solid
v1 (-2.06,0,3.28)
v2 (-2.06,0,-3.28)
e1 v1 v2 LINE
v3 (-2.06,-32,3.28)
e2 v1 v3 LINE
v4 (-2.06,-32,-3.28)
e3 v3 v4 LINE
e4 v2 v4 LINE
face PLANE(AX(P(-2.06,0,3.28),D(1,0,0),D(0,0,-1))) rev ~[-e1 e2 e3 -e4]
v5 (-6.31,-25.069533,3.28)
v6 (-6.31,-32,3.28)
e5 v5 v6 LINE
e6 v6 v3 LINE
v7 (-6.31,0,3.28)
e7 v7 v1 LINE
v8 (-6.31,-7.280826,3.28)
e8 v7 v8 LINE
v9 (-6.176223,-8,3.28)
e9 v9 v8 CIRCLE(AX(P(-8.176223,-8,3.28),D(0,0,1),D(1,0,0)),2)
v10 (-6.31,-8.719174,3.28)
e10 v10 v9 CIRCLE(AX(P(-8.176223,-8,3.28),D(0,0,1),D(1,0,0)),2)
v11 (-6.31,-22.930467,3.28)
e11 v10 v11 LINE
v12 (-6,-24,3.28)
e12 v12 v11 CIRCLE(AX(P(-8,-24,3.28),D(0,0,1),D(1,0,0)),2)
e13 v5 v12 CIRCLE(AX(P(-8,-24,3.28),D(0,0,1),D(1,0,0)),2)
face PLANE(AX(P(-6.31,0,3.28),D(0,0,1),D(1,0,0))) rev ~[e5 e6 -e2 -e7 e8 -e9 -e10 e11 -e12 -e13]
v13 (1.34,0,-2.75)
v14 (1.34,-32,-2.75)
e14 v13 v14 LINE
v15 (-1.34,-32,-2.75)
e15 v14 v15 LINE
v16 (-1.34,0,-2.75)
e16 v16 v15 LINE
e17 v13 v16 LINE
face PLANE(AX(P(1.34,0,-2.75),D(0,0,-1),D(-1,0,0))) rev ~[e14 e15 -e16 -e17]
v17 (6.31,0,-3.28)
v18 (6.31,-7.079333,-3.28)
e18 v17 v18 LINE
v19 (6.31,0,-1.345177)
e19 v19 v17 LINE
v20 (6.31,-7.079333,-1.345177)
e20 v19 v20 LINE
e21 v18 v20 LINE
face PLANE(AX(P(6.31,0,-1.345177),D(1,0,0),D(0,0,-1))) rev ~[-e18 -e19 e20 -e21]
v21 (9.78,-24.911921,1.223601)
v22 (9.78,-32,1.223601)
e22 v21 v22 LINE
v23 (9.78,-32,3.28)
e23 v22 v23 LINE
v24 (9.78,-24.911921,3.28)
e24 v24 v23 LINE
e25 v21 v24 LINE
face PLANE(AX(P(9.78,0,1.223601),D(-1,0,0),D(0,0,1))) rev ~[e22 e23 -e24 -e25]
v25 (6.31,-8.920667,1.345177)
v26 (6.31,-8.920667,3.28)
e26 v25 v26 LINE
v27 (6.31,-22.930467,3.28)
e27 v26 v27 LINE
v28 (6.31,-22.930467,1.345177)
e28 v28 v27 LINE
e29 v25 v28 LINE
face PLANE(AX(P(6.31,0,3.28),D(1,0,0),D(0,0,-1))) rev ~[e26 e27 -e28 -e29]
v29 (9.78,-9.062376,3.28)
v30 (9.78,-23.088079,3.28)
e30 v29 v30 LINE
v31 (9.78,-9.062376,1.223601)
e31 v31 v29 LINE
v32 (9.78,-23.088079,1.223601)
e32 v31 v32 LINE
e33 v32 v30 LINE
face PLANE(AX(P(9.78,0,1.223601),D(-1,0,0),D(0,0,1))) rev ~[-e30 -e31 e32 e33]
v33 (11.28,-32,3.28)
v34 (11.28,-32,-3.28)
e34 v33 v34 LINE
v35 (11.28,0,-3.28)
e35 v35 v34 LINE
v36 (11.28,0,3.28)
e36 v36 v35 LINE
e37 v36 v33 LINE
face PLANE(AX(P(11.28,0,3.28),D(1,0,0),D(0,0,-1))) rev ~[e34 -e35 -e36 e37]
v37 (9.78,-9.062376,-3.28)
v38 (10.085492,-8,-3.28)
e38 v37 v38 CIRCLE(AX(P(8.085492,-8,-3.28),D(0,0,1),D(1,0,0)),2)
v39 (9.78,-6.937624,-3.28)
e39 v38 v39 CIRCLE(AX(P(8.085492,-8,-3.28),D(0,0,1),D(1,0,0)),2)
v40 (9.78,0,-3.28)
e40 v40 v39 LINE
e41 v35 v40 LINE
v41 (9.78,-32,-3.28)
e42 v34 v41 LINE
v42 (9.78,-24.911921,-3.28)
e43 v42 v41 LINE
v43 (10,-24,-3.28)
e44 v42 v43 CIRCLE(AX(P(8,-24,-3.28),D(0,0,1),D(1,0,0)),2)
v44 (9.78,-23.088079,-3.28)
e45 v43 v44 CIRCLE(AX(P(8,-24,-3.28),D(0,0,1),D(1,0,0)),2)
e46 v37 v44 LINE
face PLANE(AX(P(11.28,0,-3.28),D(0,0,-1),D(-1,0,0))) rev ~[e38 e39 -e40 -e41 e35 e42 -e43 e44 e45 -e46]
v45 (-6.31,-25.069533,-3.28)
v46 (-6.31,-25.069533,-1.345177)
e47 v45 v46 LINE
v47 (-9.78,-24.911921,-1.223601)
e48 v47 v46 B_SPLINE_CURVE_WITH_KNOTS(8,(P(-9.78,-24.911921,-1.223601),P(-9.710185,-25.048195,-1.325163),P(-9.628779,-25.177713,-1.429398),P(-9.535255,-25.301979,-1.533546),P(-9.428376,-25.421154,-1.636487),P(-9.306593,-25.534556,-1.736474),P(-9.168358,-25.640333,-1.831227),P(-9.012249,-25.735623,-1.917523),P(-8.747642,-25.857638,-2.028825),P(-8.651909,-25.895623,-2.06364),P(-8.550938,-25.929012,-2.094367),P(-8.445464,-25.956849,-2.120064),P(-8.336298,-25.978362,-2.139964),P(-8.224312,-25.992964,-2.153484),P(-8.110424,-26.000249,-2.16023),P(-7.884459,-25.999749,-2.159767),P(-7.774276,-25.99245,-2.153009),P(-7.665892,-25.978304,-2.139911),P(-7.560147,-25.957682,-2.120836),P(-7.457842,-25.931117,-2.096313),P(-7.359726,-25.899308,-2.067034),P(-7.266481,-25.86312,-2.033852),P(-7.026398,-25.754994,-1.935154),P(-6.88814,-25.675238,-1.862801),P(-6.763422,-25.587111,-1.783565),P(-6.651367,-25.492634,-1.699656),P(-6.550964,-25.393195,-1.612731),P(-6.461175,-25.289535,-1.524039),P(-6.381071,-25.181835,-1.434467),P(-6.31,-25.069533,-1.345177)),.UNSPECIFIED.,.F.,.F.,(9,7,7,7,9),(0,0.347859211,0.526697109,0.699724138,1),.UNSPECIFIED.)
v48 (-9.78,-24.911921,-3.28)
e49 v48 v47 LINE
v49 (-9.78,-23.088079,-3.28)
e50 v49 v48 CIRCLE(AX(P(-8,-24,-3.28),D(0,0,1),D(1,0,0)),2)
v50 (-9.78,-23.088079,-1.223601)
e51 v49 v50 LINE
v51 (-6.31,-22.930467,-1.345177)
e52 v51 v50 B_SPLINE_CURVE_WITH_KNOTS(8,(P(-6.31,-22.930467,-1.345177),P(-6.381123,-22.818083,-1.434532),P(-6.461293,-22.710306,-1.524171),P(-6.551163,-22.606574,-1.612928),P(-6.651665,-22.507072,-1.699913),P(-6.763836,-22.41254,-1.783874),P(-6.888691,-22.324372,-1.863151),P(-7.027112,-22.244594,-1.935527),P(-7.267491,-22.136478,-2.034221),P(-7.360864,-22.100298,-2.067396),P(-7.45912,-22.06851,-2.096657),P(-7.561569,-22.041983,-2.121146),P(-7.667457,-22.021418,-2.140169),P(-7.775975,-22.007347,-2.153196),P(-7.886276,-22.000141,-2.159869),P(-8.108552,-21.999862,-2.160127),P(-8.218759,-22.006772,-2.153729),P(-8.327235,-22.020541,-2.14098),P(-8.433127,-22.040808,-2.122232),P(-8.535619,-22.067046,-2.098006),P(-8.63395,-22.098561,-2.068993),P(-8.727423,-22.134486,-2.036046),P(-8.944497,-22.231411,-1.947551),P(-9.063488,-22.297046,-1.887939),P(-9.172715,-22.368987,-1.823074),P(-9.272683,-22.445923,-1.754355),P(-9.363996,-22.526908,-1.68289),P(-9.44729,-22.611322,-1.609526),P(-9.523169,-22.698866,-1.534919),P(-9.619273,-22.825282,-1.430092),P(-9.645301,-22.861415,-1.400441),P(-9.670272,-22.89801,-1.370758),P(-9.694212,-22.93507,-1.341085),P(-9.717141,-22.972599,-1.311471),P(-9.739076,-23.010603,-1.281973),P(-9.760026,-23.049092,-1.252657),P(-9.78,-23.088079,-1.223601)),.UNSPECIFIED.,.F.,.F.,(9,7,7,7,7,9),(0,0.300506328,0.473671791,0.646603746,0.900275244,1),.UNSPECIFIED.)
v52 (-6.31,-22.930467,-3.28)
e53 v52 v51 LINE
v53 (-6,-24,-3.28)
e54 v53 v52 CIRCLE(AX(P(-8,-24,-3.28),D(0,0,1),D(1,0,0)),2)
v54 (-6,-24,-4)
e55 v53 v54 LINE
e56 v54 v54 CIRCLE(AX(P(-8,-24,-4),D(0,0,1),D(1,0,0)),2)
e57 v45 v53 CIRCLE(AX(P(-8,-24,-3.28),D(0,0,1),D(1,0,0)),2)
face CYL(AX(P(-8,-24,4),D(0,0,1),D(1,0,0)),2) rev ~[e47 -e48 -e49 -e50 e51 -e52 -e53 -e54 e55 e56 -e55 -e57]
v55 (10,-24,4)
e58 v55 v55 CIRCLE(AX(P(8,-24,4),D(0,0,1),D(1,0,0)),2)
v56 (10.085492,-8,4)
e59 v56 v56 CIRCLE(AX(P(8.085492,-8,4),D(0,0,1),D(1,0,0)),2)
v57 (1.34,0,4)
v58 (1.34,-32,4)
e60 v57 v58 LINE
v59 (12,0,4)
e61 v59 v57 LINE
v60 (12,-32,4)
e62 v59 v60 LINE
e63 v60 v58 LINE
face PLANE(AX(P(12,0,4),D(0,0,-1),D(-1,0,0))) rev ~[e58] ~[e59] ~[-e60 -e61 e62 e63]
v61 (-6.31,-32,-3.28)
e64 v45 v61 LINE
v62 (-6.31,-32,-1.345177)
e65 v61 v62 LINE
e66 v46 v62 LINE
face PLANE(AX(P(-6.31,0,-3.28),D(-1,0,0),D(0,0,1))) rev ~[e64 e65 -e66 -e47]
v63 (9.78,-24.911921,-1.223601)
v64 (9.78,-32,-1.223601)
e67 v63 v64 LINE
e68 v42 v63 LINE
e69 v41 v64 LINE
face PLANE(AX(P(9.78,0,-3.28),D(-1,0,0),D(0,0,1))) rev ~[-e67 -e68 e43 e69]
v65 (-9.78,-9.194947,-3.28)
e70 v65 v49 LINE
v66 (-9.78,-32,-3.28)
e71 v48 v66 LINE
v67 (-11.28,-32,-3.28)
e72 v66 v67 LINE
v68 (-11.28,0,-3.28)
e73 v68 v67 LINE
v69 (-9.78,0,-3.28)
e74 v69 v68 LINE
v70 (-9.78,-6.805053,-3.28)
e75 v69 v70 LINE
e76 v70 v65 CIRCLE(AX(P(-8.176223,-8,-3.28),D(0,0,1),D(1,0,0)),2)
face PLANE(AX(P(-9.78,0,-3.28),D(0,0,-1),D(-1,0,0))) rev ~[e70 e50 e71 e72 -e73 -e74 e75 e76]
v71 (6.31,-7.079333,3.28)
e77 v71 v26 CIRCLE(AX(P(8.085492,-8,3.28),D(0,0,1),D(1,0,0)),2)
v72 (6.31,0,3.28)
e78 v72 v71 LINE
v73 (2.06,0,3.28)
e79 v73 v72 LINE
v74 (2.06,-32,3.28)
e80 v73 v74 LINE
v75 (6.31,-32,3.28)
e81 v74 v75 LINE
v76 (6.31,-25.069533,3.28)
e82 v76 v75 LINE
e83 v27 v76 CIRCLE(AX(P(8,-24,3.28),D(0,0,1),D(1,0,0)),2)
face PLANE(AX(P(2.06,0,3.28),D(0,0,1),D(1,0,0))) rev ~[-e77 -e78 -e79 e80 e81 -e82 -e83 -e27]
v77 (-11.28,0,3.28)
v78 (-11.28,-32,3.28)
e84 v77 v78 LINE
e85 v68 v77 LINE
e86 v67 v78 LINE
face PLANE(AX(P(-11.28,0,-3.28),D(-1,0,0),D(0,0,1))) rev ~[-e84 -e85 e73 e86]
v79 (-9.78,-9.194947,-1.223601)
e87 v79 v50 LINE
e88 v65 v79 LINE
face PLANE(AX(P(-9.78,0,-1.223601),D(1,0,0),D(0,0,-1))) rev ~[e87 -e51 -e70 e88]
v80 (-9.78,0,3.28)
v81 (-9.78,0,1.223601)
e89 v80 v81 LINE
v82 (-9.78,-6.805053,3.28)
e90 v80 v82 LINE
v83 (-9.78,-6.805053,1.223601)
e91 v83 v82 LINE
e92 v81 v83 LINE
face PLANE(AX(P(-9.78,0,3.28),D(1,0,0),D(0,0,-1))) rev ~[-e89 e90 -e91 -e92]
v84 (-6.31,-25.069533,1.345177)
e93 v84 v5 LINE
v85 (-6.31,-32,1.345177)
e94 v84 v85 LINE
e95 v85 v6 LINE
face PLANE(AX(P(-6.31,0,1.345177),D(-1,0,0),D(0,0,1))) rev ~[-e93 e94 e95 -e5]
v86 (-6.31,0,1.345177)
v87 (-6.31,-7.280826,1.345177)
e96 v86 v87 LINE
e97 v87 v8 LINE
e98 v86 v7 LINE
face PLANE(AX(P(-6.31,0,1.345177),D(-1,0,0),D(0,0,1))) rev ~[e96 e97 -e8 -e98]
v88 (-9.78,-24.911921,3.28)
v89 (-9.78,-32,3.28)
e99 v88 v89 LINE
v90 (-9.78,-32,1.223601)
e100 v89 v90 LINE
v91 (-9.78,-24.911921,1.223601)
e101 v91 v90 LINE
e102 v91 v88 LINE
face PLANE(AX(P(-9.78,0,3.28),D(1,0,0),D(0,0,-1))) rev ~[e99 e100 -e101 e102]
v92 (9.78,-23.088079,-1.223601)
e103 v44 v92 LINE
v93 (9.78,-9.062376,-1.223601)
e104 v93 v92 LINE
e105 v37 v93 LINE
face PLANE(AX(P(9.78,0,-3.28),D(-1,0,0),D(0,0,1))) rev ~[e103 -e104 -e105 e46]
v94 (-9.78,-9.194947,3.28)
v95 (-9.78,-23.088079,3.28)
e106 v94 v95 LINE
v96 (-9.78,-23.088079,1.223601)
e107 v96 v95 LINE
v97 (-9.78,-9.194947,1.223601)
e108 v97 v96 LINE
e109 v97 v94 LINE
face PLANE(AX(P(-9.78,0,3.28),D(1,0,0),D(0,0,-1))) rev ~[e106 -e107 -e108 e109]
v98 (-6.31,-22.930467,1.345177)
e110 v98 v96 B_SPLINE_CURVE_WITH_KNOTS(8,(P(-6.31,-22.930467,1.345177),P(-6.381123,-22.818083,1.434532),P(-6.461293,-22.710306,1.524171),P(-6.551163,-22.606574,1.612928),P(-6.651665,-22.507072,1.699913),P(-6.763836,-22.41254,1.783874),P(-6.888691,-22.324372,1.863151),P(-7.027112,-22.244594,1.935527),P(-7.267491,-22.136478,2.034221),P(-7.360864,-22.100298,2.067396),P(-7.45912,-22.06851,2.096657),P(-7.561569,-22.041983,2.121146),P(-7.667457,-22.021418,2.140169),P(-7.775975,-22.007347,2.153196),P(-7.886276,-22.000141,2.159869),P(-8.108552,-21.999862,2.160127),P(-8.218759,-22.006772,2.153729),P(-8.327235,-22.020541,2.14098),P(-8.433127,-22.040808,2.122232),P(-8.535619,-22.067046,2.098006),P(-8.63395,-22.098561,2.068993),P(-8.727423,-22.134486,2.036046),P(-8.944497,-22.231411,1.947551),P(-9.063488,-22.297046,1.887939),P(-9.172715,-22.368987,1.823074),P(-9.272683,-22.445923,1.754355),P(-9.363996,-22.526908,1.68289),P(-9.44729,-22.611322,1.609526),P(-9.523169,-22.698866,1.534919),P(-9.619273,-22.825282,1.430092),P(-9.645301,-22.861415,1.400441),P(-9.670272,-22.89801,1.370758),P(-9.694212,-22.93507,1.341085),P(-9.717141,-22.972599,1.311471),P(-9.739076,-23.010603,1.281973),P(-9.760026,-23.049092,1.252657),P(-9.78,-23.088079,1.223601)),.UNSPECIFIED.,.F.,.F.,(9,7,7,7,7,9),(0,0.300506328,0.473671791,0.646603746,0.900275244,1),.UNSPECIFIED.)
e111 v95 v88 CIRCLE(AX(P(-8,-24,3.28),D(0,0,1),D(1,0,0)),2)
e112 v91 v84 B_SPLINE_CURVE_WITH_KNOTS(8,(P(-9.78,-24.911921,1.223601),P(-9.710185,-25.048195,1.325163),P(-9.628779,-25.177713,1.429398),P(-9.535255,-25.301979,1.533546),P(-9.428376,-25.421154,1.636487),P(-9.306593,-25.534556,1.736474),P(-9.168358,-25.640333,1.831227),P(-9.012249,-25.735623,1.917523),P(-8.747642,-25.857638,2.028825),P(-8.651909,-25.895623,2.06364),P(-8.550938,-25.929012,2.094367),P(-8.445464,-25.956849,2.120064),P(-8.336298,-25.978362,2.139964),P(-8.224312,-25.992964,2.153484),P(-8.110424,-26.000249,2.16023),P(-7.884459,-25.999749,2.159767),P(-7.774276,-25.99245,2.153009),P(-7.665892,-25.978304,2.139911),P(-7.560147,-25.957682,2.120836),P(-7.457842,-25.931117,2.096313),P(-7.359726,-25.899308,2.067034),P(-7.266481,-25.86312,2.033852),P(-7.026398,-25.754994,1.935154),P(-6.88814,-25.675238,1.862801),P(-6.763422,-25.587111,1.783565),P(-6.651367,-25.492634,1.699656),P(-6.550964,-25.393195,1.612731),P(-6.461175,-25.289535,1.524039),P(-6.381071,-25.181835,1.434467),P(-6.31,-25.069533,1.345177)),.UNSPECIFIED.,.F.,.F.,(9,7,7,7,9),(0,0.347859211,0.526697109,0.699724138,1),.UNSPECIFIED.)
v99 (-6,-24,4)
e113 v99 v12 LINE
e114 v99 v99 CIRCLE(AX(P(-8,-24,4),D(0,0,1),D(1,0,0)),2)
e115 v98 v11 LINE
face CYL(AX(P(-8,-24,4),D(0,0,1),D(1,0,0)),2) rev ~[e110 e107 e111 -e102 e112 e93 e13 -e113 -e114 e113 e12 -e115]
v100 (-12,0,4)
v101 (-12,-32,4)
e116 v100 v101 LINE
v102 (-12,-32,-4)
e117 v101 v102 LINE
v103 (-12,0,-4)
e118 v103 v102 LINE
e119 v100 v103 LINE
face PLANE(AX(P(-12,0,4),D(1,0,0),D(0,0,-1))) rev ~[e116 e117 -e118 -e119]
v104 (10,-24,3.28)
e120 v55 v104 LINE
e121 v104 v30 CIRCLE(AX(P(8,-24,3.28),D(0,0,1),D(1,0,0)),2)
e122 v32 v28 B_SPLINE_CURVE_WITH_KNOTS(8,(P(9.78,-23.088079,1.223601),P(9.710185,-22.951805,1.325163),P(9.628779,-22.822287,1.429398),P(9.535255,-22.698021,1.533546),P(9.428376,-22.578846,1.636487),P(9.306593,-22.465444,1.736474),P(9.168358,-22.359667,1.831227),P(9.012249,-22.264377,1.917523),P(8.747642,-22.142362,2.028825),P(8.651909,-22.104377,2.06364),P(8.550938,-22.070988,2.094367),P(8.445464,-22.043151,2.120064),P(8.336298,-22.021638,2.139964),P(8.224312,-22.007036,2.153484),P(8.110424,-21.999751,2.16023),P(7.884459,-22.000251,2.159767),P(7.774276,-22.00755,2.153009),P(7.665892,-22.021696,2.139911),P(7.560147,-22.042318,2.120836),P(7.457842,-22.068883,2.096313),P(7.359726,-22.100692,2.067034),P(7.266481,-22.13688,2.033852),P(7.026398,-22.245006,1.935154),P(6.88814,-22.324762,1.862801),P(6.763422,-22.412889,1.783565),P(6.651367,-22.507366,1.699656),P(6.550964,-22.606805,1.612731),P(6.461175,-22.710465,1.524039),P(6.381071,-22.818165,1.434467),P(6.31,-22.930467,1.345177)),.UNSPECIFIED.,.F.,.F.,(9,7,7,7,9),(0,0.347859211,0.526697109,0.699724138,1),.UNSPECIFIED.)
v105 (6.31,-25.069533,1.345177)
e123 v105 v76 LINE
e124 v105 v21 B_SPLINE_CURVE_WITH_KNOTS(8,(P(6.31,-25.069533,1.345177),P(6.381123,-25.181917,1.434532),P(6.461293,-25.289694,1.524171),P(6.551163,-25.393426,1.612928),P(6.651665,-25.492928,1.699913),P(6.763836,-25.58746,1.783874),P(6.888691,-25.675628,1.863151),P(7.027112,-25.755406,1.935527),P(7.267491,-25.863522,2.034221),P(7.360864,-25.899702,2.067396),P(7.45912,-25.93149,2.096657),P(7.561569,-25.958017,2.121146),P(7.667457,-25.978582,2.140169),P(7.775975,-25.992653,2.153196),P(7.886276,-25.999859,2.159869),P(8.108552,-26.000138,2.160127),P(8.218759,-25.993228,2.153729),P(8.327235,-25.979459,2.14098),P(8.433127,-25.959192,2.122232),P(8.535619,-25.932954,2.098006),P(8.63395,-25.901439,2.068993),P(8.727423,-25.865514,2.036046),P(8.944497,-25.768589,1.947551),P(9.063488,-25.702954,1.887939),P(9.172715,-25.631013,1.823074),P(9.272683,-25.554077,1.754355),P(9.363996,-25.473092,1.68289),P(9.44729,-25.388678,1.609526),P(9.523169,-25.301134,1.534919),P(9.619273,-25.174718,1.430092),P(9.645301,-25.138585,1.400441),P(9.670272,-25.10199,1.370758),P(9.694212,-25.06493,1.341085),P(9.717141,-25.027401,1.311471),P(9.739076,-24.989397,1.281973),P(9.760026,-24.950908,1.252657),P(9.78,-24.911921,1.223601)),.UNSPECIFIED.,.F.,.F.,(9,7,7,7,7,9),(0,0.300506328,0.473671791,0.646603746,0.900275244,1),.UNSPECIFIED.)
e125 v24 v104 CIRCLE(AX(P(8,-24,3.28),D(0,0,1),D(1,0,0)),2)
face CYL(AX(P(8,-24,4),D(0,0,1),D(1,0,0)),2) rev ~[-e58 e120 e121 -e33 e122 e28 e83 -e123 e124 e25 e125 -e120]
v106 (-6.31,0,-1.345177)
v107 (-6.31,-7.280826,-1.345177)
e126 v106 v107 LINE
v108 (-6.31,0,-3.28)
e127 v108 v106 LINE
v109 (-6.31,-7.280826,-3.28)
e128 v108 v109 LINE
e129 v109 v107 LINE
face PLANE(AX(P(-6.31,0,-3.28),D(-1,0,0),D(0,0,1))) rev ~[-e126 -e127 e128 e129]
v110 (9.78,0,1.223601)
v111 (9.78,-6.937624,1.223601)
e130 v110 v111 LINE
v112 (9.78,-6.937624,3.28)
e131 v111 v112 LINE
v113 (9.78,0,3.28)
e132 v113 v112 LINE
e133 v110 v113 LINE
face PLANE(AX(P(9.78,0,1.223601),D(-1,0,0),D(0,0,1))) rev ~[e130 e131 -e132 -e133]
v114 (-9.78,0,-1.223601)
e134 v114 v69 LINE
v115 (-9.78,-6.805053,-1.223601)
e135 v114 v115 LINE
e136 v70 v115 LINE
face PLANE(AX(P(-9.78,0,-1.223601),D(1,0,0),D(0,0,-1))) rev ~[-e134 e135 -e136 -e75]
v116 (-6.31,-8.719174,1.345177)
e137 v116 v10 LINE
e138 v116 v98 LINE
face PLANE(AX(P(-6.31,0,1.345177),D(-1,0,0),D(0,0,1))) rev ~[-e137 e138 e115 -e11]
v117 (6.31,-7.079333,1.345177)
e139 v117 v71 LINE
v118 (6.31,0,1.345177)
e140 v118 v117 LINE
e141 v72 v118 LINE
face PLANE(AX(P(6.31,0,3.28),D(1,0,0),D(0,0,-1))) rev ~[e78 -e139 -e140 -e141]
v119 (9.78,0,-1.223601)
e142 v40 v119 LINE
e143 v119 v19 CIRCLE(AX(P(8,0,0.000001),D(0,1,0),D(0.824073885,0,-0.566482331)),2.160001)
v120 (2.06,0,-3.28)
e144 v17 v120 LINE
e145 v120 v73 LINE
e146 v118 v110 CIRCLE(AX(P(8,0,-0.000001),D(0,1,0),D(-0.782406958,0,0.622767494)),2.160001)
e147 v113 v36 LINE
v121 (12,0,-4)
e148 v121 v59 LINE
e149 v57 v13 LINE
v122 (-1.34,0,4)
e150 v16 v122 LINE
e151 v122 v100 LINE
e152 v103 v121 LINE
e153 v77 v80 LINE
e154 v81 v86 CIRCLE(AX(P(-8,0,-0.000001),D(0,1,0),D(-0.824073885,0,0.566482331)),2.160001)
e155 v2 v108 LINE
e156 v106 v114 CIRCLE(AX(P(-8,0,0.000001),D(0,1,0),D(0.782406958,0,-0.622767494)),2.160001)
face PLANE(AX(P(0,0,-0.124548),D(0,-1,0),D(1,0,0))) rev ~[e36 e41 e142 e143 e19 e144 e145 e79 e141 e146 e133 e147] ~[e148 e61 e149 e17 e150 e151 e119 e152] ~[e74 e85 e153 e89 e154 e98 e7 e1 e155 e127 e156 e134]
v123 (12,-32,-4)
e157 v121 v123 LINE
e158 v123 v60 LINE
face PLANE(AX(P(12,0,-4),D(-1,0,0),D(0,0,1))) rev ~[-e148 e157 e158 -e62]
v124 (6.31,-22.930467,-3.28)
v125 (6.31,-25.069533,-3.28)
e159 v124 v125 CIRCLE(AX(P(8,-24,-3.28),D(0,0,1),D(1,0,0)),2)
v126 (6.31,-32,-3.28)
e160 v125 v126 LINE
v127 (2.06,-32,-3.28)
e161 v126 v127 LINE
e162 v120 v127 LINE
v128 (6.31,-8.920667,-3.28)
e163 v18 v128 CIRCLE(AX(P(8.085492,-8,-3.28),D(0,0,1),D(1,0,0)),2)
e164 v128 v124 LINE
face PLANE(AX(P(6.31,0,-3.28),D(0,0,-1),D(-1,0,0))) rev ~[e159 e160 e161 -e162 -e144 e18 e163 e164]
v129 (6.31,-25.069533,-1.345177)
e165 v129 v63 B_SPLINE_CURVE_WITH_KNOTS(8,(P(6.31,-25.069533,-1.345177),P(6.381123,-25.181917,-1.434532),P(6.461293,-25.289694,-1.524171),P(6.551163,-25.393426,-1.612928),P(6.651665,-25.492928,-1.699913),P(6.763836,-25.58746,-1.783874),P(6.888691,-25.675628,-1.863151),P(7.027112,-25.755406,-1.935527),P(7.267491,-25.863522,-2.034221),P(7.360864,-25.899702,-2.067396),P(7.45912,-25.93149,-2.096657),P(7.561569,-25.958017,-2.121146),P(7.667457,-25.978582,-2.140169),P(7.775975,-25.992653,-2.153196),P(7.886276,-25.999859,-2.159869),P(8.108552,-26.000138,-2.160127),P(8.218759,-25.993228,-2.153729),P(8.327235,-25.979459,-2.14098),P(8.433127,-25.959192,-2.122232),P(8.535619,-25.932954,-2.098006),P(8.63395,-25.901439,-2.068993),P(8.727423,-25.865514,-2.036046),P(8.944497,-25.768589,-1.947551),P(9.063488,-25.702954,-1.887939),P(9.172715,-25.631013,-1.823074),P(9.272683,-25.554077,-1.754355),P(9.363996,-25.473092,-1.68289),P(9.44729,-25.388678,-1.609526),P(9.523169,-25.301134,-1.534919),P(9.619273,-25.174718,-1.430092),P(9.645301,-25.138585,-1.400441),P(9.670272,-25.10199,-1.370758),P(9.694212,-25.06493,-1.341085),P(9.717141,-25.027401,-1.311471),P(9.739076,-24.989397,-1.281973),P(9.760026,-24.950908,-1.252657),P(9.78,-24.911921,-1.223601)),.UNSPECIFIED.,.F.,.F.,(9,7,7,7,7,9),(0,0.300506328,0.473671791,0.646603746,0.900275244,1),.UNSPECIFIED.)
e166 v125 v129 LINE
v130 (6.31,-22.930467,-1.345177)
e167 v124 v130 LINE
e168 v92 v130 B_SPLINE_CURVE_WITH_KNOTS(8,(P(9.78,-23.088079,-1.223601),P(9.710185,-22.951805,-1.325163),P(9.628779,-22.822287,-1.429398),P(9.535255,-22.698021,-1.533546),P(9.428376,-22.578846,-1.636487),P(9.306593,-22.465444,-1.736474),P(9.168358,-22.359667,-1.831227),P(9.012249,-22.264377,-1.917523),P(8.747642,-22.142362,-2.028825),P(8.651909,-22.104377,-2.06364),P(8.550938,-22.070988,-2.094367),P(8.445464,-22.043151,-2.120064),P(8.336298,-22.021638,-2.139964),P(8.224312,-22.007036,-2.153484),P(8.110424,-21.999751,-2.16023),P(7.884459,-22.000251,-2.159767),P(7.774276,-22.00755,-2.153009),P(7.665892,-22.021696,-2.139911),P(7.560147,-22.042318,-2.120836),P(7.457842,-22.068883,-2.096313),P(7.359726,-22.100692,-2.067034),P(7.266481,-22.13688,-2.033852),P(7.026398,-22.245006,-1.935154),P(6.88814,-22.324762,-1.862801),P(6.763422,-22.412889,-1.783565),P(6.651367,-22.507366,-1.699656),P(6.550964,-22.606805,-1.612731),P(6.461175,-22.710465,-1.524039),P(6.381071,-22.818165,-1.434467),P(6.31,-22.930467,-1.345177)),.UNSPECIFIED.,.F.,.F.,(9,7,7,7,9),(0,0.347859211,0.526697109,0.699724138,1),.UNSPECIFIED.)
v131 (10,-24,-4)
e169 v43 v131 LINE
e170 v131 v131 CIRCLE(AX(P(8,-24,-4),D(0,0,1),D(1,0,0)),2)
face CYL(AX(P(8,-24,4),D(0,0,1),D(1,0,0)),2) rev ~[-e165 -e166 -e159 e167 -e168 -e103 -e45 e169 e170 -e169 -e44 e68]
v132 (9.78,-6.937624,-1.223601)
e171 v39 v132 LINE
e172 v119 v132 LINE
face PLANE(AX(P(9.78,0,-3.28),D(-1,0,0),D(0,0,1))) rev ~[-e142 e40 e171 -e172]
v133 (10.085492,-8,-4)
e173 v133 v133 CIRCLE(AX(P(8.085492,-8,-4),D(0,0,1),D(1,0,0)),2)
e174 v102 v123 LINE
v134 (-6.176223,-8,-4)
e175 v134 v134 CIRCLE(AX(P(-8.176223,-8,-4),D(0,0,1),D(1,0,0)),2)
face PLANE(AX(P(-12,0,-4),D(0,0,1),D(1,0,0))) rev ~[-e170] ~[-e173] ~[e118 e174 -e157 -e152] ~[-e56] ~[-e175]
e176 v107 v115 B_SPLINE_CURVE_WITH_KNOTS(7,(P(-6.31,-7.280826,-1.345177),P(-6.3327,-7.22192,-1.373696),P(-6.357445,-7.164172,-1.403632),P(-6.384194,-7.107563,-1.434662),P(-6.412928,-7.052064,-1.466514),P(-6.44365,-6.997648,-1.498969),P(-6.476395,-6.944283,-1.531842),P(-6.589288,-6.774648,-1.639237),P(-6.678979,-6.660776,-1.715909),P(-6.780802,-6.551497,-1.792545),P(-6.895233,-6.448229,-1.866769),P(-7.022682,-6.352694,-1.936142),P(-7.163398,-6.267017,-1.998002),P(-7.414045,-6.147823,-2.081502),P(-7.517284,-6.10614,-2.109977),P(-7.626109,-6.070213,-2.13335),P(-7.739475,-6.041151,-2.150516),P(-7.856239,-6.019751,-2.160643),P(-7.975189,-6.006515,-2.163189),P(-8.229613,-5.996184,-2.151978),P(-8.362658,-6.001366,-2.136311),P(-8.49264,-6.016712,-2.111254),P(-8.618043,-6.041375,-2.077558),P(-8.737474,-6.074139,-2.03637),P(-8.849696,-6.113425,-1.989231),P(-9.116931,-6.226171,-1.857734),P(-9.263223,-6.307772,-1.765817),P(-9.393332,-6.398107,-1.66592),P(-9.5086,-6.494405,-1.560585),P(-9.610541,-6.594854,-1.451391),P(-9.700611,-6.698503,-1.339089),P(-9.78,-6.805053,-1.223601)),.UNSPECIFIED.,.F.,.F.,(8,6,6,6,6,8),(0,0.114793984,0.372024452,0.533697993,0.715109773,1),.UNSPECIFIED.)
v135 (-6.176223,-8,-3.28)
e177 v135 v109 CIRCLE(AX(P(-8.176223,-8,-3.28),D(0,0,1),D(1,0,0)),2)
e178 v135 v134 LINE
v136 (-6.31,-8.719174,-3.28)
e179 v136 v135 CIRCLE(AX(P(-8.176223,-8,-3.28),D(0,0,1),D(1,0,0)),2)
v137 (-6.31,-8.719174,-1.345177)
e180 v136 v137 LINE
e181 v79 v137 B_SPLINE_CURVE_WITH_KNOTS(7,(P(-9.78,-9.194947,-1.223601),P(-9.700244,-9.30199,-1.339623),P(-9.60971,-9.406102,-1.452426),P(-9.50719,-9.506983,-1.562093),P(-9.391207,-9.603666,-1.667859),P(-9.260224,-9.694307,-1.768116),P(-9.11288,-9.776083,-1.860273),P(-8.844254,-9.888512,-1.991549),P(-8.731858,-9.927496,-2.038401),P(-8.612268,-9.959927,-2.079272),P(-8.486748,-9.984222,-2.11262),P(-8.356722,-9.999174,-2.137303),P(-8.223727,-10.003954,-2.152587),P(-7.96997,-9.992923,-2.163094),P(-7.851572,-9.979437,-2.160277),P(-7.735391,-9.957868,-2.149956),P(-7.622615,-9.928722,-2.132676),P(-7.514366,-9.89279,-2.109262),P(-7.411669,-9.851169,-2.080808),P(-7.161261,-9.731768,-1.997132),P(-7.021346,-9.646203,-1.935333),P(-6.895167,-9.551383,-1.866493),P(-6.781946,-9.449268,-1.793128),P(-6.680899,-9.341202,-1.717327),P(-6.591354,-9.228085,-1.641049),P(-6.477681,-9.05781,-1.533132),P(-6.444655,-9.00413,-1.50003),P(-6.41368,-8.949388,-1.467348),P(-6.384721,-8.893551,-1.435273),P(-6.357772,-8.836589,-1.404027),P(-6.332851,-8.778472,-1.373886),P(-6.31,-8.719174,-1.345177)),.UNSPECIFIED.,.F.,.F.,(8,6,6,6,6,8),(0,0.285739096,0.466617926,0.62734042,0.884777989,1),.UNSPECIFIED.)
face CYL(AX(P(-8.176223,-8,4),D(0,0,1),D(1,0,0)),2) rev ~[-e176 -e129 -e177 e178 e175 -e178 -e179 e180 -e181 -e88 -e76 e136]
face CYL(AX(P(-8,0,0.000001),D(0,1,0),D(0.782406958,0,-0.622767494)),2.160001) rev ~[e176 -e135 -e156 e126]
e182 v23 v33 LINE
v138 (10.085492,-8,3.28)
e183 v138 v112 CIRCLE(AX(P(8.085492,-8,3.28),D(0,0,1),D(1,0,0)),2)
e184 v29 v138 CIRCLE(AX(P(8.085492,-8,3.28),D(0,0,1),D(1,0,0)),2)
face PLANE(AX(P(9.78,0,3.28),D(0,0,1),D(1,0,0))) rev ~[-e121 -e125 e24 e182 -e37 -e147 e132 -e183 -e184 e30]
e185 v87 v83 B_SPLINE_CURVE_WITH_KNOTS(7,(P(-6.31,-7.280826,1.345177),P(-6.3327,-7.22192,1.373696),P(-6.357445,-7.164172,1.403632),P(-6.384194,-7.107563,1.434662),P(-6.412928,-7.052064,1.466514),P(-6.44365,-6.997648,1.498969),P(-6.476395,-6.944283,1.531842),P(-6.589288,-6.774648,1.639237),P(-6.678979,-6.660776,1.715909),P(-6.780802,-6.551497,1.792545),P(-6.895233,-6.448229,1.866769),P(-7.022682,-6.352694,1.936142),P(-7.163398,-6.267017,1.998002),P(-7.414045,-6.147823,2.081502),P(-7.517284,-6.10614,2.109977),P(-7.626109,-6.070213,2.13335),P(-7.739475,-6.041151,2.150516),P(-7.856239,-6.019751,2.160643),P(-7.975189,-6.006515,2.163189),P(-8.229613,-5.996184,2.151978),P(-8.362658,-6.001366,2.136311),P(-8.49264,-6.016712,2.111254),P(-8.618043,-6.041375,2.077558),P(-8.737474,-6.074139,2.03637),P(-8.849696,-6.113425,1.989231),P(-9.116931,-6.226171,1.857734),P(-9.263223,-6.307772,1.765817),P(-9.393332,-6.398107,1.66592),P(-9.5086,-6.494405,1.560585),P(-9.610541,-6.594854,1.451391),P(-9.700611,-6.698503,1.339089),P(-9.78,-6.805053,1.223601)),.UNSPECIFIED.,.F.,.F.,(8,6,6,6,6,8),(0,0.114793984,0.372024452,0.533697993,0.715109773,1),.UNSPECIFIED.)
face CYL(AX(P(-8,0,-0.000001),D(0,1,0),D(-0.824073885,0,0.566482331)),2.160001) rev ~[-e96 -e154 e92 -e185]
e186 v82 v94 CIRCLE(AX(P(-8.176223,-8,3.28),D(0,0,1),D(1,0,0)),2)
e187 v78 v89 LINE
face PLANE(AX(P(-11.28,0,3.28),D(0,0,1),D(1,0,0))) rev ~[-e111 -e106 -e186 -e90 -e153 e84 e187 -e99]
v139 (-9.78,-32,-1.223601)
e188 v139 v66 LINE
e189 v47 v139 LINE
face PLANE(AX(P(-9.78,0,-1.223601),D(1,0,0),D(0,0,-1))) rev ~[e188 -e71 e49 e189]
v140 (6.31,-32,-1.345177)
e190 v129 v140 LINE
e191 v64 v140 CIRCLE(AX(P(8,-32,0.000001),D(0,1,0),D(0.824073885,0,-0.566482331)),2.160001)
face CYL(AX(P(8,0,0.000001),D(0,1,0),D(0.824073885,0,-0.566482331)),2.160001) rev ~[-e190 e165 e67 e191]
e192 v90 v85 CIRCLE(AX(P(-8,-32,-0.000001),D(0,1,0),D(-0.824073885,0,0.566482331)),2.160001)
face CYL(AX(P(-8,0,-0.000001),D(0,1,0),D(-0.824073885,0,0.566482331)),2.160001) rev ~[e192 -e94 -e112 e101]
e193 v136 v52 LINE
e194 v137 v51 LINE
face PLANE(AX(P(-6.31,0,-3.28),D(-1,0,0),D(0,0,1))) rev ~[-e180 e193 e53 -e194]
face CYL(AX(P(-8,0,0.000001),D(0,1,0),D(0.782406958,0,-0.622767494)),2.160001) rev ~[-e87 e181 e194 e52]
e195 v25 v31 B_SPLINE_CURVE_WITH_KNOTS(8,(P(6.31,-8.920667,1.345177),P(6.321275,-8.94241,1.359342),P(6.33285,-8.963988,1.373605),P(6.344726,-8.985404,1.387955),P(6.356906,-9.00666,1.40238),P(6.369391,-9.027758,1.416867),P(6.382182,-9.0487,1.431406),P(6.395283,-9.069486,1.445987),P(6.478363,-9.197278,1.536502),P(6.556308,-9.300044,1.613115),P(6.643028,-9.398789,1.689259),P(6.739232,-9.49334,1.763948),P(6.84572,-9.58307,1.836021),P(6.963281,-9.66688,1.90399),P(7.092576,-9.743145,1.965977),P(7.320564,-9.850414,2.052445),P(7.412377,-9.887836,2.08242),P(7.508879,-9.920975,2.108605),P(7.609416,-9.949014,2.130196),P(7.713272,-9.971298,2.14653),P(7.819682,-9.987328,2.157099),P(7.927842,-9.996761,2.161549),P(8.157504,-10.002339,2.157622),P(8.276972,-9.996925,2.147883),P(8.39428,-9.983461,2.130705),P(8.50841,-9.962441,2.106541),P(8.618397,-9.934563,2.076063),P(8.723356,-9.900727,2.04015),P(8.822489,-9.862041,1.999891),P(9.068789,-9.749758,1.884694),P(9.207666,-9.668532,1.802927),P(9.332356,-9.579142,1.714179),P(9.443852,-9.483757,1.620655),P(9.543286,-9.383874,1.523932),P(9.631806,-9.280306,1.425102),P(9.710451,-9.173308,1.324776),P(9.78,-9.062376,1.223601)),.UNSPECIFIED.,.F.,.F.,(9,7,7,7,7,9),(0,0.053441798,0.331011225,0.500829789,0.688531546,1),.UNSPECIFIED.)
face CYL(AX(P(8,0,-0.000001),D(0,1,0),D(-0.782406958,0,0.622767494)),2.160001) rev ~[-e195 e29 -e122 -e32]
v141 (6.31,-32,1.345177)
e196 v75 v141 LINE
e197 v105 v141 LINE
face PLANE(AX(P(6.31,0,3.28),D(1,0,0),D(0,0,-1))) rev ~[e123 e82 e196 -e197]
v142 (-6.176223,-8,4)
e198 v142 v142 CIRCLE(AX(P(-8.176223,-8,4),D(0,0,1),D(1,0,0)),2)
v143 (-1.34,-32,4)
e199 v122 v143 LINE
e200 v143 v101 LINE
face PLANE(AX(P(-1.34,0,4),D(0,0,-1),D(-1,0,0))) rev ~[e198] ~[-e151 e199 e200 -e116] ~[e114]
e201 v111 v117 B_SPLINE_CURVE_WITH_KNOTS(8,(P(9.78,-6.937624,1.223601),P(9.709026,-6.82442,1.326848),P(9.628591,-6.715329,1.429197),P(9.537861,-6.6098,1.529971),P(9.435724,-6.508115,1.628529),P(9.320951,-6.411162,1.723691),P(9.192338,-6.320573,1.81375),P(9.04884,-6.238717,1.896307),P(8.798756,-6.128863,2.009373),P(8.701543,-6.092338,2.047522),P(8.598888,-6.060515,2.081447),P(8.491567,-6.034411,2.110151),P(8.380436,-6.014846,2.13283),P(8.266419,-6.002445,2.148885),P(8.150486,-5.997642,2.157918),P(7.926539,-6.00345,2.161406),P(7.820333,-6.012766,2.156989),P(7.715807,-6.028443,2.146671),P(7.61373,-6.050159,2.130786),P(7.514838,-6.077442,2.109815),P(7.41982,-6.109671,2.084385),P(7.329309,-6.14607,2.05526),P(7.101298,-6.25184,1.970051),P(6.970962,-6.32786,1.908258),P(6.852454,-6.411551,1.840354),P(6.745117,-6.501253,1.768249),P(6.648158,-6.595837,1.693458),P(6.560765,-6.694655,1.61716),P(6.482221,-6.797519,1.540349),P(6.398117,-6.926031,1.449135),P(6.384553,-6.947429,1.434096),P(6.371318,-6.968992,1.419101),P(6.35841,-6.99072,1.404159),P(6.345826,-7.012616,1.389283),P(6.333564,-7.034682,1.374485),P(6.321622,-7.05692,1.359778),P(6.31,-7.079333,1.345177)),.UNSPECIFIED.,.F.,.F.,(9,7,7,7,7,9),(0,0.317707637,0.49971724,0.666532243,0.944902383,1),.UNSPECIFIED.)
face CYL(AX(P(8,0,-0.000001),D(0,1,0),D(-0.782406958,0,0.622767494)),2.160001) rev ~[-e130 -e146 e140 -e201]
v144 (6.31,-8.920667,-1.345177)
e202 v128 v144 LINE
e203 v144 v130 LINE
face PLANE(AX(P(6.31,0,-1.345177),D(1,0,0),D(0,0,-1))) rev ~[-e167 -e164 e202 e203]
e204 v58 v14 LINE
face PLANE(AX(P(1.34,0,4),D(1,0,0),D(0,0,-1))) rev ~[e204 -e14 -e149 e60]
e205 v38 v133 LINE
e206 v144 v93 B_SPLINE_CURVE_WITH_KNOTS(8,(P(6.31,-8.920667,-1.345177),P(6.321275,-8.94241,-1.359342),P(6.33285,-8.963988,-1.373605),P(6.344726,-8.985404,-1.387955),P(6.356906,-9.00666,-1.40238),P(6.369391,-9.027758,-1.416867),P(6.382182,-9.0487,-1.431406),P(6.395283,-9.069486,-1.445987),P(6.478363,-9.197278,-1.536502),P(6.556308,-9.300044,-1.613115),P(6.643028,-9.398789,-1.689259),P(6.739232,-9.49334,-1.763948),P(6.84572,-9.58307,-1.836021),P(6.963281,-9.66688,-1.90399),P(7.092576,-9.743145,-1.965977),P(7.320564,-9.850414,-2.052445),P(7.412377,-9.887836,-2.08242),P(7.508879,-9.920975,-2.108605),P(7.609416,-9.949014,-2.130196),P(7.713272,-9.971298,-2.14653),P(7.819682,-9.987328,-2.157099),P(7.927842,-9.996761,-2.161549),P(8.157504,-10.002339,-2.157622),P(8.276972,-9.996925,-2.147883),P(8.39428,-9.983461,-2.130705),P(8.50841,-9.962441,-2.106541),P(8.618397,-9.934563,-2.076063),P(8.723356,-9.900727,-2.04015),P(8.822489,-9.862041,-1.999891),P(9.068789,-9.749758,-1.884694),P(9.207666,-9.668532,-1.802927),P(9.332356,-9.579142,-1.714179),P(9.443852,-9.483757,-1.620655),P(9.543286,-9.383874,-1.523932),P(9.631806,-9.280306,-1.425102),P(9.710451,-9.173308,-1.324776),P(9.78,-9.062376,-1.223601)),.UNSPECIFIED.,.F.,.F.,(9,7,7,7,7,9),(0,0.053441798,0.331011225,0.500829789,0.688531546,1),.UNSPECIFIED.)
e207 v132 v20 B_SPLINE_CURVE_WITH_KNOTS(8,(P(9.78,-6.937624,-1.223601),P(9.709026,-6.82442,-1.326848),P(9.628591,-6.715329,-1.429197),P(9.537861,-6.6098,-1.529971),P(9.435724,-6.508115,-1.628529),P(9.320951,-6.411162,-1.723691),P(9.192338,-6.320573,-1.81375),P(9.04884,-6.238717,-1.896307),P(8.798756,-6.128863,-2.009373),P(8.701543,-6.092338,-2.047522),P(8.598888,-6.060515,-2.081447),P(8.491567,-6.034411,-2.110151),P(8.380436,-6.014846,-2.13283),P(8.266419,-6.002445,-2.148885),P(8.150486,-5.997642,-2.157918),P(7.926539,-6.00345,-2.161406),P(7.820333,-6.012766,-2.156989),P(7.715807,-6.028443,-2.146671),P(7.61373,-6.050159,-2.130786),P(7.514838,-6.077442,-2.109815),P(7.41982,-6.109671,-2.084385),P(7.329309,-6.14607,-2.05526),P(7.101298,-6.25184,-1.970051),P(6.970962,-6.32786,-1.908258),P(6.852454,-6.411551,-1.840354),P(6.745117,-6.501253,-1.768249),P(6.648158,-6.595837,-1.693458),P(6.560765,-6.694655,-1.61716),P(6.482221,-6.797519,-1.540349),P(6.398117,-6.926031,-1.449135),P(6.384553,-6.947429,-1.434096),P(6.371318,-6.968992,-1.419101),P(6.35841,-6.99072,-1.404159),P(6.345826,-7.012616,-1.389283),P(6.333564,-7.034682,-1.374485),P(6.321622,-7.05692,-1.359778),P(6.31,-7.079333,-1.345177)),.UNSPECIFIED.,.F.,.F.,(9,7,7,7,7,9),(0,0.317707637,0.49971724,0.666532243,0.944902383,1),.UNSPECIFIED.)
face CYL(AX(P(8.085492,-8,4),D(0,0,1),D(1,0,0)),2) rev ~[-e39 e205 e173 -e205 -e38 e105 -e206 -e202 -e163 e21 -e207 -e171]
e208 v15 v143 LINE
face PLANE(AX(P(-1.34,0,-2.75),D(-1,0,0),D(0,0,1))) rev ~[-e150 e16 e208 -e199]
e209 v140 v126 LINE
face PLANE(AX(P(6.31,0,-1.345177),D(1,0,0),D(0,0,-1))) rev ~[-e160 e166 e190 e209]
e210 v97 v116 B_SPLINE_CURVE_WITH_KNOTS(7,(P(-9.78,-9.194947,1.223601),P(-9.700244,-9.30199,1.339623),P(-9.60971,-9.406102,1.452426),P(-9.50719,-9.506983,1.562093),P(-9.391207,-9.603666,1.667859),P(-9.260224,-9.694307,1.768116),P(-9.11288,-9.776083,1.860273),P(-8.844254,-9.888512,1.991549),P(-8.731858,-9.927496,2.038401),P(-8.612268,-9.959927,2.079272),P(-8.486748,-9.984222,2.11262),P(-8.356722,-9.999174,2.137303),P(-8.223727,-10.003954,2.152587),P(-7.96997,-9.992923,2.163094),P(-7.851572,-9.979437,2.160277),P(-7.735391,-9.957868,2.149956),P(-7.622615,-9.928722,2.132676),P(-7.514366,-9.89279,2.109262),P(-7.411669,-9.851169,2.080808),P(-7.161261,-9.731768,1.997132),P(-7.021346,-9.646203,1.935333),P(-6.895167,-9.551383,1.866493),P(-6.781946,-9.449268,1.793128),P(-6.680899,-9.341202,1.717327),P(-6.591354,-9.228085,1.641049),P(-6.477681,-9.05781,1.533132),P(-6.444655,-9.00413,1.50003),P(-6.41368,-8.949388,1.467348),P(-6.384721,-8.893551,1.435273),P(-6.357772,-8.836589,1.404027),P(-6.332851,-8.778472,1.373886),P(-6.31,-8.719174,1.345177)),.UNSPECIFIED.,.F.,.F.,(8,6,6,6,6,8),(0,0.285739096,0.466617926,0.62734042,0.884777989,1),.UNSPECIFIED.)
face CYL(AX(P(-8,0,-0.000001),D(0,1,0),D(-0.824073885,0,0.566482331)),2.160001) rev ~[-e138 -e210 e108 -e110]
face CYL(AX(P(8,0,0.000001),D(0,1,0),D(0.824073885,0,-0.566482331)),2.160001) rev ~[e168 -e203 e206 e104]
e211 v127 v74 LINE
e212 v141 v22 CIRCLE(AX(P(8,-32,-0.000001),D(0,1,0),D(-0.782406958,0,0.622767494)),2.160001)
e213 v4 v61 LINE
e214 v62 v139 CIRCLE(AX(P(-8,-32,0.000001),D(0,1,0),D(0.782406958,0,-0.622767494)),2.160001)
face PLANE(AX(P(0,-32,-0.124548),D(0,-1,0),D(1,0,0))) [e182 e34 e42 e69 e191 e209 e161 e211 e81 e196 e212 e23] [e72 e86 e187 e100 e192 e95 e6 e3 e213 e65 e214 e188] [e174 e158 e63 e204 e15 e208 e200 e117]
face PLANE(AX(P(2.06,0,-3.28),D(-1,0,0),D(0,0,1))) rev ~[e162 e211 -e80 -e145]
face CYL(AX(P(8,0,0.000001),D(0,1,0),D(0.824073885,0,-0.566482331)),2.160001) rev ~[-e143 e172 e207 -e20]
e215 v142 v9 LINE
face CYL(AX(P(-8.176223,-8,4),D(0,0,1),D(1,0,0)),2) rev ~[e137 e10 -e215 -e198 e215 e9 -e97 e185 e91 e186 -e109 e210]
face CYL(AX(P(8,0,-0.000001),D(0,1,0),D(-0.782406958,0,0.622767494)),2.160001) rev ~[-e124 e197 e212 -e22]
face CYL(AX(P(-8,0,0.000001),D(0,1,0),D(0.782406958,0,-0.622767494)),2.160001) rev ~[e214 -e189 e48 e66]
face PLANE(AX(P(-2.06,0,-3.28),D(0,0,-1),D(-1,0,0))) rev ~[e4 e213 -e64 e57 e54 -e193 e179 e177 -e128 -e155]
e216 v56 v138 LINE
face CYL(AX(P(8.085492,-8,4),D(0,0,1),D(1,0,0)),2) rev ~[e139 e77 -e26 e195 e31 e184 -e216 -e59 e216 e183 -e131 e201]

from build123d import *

# Parameters (mm, degrees)
F1_DEPTH = 32
F2_R     = 2
F3_DEPTH = 8.1


with BuildPart() as f1:
    # F0 (on Front) → F1 (new body)
    with BuildSketch(Plane.XZ):
        Polygon((-1.34, 4), (-12, 4), (-12, -4), (12, -4), (12, 4), (1.34, 4), (1.34, -2.75), (-1.34, -2.75), align=None)
        Polygon((-6.31, 3.28), (-2.06, 3.28), (-2.06, -3.28), (-6.31, -3.28), (-9.78, -3.28), (-11.28, -3.28), (-11.28, 3.28), (-9.78, 3.28), align=None, mode=Mode.SUBTRACT)
        Polygon((11.28, 3.28), (11.28, -3.28), (9.78, -3.28), (6.31, -3.28), (2.06, -3.28), (2.06, 3.28), (6.31, 3.28), (9.78, 3.28), align=None, mode=Mode.SUBTRACT)
        with BuildLine():
            Line((-6.31, 1.345177), (-6.31, 3.28))
            Line((-6.31, 3.28), (-9.78, 3.28))
            Line((-9.78, 3.28), (-9.78, 1.223601))
            ThreePointArc((-9.78, 1.223601), (-8.075632, 2.158675), (-6.31, 1.345177))
        make_face()
        with BuildLine():
            Line((-9.78, -3.28), (-6.31, -3.28))
            Line((-6.31, -3.28), (-6.31, -1.345177))
            ThreePointArc((-6.31, -1.345177), (-8.075632, -2.158675), (-9.78, -1.223601))
            Line((-9.78, -1.223601), (-9.78, -3.28))
        make_face()
        with BuildLine():
            Line((9.78, 1.223601), (9.78, 3.28))
            Line((9.78, 3.28), (6.31, 3.28))
            Line((6.31, 3.28), (6.31, 1.345177))
            ThreePointArc((6.31, 1.345177), (8.075632, 2.158675), (9.78, 1.223601))
        make_face()
        with BuildLine():
            Line((6.31, -3.28), (9.78, -3.28))
            Line((9.78, -3.28), (9.78, -1.223601))
            ThreePointArc((9.78, -1.223601), (8.075632, -2.158675), (6.31, -1.345177))
            Line((6.31, -1.345177), (6.31, -3.28))
        make_face()
    extrude(amount=F1_DEPTH)

    # F2 (on face) → F3 (cut)
    with BuildSketch(Plane.XY.offset(4)):
        with Locations((-8, -24)):
            Circle(F2_R)
        with Locations((8, -24)):
            Circle(F2_R)
        with Locations((-8.176223, -8)):
            Circle(F2_R)
        with Locations((8.085492, -8)):
            Circle(F2_R)
    extrude(amount=-F3_DEPTH, mode=Mode.SUBTRACT)


solid = f1.part
